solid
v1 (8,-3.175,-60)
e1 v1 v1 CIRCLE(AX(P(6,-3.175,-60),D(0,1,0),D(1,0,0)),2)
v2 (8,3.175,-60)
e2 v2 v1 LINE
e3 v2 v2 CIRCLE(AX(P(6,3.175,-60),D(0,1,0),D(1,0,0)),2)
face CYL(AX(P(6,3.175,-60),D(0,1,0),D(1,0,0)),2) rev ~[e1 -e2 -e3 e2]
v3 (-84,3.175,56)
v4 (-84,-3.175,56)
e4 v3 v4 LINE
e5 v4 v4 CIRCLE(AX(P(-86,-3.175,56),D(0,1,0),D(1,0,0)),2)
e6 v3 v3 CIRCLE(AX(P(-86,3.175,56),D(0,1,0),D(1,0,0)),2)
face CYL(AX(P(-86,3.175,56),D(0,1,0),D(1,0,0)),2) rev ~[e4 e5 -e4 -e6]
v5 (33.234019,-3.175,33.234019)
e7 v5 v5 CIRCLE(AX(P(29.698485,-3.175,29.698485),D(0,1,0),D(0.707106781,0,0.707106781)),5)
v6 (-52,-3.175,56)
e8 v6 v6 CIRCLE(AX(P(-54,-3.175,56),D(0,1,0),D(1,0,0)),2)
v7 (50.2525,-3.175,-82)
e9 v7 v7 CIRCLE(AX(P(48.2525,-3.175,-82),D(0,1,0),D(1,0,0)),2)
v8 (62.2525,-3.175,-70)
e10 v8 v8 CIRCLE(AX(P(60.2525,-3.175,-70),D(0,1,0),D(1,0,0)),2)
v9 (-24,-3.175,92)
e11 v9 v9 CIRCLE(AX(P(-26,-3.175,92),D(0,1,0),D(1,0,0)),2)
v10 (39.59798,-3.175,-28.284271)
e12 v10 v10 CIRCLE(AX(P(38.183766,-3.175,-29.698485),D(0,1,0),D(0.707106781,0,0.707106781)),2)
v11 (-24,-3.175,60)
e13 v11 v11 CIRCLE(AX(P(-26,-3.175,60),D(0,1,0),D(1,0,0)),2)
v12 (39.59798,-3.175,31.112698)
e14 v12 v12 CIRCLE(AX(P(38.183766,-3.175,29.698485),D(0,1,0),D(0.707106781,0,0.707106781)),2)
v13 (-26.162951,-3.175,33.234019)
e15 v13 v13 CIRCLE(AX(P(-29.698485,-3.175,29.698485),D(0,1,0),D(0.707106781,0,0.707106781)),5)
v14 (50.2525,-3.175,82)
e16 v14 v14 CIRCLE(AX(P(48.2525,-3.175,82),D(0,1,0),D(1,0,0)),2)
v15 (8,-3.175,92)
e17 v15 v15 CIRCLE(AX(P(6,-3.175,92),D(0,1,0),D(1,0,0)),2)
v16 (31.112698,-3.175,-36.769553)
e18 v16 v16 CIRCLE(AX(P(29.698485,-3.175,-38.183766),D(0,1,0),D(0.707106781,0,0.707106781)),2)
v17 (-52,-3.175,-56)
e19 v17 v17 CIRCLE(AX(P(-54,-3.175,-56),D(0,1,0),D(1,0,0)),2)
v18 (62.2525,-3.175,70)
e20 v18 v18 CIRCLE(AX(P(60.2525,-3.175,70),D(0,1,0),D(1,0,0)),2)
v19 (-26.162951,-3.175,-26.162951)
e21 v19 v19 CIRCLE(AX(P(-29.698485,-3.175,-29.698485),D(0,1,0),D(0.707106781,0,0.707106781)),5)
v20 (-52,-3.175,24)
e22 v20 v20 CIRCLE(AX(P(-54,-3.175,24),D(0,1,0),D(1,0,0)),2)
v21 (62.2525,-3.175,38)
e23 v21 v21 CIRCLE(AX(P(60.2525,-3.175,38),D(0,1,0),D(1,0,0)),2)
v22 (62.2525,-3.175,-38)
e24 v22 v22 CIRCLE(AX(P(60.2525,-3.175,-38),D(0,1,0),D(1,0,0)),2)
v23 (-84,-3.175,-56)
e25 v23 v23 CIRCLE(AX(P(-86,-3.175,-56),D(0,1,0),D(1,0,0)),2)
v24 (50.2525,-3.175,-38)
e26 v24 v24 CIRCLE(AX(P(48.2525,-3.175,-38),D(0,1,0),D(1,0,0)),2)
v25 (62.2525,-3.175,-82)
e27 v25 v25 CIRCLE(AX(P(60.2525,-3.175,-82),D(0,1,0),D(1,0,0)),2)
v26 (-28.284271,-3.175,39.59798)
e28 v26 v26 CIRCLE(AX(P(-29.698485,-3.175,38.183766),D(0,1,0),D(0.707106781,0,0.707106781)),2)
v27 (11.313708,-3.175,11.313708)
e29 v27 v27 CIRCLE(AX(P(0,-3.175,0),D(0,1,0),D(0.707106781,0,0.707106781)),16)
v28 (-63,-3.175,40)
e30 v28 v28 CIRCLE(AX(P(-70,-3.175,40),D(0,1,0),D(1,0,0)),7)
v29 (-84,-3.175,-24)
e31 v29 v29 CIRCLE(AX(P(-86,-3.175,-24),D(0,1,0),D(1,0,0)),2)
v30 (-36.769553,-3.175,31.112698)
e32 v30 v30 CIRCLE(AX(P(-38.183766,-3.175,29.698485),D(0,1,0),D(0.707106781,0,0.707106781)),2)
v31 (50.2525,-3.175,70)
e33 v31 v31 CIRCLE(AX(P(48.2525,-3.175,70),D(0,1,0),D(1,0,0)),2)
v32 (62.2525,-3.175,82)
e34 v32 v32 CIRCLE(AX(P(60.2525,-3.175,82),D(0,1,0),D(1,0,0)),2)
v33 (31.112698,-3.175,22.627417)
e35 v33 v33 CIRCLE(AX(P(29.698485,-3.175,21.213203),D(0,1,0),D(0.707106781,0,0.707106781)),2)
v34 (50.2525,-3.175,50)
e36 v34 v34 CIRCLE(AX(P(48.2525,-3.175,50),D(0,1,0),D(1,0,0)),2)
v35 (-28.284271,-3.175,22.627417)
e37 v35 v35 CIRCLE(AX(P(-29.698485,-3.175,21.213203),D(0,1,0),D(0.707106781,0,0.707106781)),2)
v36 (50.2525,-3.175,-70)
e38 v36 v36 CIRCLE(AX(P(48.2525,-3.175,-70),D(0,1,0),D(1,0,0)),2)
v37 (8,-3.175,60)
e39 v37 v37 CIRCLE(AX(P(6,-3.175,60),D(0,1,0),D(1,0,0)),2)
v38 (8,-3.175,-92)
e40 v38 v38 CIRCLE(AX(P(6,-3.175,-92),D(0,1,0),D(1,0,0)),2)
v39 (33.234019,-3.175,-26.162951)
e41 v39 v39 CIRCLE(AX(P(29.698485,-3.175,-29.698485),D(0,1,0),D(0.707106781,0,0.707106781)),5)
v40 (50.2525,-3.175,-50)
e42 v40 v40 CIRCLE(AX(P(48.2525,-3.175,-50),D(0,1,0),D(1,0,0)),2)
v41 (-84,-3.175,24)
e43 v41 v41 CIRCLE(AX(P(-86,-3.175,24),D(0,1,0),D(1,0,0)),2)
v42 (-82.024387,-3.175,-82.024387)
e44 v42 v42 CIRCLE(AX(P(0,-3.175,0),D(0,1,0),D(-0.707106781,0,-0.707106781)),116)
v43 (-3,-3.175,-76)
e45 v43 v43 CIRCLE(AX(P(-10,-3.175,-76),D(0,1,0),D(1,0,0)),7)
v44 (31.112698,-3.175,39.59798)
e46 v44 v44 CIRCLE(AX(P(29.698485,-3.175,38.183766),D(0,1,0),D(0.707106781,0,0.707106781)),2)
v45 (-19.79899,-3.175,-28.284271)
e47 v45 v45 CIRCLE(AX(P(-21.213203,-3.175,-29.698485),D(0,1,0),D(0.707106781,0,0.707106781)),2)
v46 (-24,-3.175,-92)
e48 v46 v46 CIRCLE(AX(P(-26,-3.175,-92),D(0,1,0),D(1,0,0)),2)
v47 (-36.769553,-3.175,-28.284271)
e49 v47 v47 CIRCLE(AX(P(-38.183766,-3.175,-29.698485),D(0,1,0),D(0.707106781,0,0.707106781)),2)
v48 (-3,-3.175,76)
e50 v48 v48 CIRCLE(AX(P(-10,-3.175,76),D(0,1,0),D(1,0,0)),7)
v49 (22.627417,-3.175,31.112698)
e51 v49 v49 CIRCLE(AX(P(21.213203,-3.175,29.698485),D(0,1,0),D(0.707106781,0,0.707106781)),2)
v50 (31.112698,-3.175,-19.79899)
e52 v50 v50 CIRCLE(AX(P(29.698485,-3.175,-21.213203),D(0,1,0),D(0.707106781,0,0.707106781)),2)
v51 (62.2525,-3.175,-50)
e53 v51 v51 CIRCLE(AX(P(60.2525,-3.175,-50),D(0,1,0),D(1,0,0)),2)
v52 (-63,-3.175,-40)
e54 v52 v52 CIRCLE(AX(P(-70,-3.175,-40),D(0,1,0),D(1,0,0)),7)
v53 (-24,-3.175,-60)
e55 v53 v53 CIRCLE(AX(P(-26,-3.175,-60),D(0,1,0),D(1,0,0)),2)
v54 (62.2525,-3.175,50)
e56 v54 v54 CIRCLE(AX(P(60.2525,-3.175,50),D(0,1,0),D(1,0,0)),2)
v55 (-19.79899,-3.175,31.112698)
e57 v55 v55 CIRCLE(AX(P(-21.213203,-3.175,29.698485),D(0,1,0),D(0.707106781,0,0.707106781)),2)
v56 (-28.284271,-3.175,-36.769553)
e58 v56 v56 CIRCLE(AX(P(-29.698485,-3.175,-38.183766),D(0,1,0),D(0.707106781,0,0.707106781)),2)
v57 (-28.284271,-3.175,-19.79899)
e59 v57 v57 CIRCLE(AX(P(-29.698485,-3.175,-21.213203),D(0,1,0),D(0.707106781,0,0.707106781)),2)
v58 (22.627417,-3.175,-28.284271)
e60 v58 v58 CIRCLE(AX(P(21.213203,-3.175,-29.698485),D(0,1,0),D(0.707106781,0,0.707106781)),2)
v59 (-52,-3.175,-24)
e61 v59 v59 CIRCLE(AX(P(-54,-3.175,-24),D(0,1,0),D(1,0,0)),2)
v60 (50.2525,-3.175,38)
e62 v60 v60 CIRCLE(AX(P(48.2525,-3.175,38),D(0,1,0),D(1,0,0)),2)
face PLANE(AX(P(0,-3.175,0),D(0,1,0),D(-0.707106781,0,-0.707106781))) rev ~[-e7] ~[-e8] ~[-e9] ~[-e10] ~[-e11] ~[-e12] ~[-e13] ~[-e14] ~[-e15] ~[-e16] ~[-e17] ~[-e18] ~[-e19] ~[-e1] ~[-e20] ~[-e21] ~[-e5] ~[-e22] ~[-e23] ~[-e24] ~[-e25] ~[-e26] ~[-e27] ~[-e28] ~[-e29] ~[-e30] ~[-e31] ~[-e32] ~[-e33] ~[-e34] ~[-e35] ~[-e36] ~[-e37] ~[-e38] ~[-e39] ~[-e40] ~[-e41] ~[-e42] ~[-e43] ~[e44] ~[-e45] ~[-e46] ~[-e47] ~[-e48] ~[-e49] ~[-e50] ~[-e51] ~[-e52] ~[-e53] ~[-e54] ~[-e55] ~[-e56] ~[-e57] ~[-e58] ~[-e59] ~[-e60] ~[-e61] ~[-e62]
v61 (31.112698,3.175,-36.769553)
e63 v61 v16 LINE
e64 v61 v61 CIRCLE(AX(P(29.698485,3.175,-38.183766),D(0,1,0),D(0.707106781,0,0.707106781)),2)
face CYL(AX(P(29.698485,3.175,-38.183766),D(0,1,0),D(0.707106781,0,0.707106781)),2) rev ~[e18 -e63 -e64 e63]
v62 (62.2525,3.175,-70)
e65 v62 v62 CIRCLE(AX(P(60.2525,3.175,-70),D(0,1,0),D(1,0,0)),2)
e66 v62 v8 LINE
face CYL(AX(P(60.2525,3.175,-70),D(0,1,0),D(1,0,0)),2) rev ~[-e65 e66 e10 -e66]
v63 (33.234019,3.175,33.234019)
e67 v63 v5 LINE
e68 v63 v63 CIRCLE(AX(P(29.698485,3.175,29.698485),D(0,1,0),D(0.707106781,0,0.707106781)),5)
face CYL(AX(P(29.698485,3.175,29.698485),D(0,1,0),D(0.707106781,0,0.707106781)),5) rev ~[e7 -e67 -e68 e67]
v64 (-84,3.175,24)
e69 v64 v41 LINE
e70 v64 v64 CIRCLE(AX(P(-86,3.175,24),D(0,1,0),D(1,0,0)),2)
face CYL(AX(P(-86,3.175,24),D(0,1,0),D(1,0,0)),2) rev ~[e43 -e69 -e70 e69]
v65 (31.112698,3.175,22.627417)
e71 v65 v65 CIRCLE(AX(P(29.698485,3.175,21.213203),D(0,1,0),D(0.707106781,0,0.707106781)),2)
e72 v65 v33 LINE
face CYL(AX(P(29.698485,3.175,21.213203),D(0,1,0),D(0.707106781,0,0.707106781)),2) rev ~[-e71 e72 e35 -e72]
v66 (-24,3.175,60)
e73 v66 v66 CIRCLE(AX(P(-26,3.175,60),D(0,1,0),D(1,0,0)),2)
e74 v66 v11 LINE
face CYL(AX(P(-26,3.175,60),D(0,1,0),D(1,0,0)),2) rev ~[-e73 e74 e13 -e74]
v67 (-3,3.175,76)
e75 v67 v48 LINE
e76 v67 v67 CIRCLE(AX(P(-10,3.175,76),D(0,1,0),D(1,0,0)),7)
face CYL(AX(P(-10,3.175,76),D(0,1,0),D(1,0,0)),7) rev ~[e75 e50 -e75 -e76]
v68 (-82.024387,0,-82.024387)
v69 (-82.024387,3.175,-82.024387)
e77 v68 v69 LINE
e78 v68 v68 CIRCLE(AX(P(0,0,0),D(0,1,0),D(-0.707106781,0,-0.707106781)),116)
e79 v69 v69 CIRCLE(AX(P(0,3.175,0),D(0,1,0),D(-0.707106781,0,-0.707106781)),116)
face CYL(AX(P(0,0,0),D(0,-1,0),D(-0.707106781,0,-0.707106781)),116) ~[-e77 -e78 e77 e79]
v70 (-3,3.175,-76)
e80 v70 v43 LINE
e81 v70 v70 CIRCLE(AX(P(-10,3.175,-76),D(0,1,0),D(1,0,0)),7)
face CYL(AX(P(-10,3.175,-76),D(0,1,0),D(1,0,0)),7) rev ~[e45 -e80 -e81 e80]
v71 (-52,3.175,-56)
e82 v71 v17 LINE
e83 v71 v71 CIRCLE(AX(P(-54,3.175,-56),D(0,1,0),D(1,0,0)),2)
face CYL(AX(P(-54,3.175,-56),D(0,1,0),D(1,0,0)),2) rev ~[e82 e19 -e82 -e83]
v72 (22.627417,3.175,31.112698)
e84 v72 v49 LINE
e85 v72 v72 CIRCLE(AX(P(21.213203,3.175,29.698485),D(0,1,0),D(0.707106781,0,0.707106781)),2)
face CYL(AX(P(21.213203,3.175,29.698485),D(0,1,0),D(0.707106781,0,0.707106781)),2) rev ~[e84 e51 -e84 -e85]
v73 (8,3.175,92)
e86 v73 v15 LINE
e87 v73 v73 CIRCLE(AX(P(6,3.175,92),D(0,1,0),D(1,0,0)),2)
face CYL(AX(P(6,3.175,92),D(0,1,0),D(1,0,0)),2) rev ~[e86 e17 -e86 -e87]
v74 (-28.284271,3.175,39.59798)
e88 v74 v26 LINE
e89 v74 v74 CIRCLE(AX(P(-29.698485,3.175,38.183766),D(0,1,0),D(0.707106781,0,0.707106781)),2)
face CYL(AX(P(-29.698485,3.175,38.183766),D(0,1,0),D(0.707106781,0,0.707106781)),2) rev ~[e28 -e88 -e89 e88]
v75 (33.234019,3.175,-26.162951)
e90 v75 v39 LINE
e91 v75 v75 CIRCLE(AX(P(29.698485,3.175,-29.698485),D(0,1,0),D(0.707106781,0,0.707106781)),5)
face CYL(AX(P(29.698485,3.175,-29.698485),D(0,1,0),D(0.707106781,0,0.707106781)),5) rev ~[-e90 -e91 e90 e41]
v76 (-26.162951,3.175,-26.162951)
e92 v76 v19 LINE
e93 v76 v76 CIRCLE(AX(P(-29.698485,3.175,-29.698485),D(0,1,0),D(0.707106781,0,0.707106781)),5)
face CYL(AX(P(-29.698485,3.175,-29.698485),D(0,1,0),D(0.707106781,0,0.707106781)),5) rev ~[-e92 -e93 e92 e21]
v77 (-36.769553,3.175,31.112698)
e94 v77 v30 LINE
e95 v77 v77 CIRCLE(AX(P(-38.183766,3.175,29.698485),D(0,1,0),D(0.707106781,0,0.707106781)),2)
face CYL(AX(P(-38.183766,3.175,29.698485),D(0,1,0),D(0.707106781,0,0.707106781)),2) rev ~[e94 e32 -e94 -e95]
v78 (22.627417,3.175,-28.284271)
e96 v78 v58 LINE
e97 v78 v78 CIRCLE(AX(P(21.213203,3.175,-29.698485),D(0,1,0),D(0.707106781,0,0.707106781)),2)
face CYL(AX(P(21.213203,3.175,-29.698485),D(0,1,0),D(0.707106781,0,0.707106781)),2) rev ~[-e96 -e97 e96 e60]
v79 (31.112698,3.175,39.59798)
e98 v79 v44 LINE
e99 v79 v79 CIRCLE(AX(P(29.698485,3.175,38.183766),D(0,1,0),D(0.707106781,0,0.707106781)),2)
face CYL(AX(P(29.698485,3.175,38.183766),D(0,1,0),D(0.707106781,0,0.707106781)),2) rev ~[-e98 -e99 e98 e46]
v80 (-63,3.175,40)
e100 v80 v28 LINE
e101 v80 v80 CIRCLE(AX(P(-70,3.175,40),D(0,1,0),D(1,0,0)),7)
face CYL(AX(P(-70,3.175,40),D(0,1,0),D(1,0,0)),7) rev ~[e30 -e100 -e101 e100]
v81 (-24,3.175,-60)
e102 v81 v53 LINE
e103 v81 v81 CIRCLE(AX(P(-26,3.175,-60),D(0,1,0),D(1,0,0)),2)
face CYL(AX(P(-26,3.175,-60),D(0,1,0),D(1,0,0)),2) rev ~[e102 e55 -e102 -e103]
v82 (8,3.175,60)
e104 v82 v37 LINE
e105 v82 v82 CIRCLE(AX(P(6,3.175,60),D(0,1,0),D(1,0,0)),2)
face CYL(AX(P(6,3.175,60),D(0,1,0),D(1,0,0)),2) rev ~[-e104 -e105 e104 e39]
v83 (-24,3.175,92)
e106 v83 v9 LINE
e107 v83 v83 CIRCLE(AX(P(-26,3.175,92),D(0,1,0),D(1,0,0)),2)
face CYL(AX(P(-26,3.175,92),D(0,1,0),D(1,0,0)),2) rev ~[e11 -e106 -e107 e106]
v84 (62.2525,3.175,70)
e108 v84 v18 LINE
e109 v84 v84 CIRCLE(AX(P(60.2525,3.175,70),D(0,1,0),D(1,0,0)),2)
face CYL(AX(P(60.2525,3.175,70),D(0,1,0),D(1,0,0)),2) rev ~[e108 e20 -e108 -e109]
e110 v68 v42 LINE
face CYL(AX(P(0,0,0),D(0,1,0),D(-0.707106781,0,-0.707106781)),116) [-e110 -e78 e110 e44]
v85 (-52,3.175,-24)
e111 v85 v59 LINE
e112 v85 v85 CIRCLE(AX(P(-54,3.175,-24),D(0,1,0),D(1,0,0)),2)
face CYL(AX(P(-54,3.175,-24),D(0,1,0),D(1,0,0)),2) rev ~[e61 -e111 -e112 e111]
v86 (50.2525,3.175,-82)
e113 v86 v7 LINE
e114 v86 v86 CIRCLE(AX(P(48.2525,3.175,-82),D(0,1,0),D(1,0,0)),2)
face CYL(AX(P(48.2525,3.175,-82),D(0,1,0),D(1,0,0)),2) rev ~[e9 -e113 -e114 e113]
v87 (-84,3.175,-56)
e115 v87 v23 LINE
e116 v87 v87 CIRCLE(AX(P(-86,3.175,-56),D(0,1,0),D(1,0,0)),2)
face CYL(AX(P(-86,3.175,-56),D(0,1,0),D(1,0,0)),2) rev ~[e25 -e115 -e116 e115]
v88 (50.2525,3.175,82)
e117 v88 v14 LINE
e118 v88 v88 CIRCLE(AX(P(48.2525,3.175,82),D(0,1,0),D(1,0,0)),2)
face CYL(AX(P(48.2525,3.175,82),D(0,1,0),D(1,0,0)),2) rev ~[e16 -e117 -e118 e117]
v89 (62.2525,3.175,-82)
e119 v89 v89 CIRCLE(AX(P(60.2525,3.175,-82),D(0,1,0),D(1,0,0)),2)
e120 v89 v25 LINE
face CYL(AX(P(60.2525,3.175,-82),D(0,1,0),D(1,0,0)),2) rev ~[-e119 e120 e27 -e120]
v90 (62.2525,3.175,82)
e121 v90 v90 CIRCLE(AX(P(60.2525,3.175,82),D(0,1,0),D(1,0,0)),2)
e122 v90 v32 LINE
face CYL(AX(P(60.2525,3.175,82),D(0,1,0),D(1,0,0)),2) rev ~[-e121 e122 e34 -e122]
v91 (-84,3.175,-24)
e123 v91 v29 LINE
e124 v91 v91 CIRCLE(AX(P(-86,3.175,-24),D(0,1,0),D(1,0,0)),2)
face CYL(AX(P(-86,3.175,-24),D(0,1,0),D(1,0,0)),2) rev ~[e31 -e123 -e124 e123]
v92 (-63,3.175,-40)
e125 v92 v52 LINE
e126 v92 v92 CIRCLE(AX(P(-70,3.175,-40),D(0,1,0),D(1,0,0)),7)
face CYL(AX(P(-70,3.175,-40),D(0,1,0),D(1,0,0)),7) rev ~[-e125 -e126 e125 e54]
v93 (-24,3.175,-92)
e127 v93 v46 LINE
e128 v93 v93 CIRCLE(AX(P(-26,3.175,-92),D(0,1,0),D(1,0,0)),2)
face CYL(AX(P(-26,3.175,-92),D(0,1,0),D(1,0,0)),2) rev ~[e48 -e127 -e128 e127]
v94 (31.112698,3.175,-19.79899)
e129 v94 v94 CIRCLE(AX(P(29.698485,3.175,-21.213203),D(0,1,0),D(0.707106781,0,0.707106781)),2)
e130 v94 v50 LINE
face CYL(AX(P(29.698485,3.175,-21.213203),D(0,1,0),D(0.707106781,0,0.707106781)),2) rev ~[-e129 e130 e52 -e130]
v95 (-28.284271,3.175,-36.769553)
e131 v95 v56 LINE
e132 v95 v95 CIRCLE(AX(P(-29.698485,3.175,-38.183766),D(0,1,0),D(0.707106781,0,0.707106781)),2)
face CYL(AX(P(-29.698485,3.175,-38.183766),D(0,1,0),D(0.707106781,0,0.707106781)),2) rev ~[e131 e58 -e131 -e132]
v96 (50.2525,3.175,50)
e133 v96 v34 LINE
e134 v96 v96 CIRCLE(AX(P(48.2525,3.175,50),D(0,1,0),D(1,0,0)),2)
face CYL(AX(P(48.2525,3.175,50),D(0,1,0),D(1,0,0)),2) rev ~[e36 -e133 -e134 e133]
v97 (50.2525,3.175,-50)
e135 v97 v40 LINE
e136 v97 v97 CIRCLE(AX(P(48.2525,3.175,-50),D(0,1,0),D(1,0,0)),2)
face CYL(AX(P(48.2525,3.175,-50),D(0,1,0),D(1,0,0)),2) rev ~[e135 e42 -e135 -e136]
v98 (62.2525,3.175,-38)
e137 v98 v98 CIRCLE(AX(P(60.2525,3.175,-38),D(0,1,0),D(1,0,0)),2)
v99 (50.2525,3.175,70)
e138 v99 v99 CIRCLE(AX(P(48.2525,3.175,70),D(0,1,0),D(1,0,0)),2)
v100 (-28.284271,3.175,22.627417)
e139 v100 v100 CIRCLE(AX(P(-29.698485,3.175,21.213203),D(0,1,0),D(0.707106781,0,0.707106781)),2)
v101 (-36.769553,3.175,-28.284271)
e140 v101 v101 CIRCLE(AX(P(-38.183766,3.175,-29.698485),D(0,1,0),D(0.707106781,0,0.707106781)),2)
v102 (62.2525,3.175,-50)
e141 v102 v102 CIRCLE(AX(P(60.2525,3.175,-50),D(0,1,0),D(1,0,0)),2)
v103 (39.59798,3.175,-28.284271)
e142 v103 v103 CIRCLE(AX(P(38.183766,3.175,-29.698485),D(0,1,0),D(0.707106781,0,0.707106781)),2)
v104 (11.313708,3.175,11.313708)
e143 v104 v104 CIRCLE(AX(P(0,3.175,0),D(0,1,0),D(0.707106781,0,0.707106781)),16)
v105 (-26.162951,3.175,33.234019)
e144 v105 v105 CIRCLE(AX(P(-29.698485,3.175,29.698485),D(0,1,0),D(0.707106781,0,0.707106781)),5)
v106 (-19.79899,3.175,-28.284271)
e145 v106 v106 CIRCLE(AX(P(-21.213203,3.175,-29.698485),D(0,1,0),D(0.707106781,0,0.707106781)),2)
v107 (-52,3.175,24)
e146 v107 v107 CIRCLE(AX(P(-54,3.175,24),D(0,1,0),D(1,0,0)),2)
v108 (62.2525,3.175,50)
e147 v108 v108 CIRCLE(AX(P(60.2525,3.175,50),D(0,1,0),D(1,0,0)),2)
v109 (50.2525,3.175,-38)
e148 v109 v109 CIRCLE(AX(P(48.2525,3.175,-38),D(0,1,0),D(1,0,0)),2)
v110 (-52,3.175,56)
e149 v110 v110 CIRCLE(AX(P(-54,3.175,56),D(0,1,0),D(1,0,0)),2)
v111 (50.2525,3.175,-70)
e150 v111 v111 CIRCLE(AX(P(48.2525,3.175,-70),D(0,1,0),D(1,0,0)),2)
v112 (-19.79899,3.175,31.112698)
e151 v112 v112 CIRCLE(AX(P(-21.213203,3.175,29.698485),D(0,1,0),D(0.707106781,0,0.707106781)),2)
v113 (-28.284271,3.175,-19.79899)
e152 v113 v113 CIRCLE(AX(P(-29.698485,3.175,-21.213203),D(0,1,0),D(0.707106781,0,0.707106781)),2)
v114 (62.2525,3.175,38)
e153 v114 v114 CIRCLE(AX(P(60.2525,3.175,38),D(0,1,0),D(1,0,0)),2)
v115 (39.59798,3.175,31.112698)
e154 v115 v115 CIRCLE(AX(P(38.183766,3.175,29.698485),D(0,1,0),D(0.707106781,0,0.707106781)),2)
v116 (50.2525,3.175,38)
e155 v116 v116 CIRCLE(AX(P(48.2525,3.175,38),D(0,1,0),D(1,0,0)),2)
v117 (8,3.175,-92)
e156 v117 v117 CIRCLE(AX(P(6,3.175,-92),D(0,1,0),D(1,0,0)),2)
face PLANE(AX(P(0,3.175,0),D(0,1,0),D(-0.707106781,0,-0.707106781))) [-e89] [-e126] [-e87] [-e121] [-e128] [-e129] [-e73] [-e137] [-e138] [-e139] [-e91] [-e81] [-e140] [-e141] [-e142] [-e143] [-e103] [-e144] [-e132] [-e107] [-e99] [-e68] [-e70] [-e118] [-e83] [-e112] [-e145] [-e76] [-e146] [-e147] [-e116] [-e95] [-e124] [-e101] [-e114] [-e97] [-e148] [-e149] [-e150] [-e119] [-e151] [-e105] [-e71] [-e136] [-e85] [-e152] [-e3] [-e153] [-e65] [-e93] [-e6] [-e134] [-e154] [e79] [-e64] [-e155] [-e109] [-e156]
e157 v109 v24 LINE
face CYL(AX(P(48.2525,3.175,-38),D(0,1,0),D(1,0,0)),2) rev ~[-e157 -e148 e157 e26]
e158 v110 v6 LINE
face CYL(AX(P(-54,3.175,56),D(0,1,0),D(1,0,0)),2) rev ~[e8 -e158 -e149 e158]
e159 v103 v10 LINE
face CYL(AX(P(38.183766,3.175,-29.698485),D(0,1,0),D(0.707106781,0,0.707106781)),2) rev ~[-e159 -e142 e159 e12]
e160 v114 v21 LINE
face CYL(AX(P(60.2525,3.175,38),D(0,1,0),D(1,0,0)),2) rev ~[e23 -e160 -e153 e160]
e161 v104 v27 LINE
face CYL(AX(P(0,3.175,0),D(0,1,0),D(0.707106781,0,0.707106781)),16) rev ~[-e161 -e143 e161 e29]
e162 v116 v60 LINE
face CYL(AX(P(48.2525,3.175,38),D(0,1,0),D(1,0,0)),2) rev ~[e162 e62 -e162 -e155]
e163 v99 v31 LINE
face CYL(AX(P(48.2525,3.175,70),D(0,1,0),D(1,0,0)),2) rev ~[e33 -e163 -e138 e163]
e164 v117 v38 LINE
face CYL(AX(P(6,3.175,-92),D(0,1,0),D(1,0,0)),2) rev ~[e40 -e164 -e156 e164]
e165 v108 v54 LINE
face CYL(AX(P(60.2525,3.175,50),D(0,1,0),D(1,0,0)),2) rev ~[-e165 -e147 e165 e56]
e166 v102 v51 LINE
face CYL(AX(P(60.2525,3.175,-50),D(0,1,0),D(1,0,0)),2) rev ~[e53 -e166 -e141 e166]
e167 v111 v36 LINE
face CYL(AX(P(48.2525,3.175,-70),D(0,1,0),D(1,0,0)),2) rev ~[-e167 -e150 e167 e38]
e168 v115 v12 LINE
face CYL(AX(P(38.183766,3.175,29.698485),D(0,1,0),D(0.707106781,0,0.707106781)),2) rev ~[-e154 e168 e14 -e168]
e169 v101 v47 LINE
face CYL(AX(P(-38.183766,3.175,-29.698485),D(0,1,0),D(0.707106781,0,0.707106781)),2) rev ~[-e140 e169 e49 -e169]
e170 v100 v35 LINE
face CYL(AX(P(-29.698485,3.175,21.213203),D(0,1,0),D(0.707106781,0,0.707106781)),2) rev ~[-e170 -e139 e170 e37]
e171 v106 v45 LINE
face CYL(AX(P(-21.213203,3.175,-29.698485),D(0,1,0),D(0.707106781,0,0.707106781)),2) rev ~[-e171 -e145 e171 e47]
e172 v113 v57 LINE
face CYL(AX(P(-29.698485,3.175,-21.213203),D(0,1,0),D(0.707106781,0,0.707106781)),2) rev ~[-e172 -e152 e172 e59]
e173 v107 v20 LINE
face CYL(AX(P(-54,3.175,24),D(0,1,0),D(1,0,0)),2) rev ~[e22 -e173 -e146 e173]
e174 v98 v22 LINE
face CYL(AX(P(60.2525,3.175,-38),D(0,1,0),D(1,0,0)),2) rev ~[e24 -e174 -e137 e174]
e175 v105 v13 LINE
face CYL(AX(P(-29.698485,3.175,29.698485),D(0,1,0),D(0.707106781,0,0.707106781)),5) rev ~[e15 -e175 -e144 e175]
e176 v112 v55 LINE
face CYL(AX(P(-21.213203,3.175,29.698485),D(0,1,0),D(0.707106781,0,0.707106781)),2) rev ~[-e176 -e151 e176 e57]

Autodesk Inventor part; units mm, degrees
ref_plane "YZ Plane" through (0, 0, 0) normal (1, 0, 0) x (0, 1, 0)
ref_plane "XZ Plane" through (0, 0, 0) normal (0, 1, 0) x (-1, 0, 0)
ref_plane "XY Plane" through (0, 0, 0) normal (0, 0, 1) x (1, 0, 0)
sketch "Sketch1" plane through (0, 0, 0) normal (0, 1, 0) x (-1, 0, 0)
  circle A0 centre (0, 0) radius 116
  dimension "d0" = 232
extrude "Extrusion1" add sketch "Sketch1" along normal mid plane 6.35
sketch "Sketch2" plane through (0, 3.175, 0) normal (0, 1, 0) x (1, 0, 0)
  circle A0 centre (-42, 0) radius 5
  circle A1 centre (-36, 6) radius 2
  circle A2 centre (-48, 6) radius 2
  circle A3 centre (-48, -6) radius 2
  circle A4 centre (-36, -6) radius 2
  circle A5 centre (0, -42) radius 5
  circle A6 centre (-6, -36) radius 2
  circle A7 centre (-6, -48) radius 2
  circle A8 centre (6, -48) radius 2
  circle A9 centre (6, -36) radius 2
  circle A10 centre (42, 0) radius 5
  circle A11 centre (36, -6) radius 2
  circle A12 centre (48, -6) radius 2
  circle A13 centre (48, 6) radius 2
  circle A14 centre (36, 6) radius 2
  circle A15 centre (0, 42) radius 5
  circle A16 centre (6, 36) radius 2
  circle A17 centre (6, 48) radius 2
  circle A18 centre (-6, 48) radius 2
  circle A19 centre (-6, 36) radius 2
  point P0 (0, 0)
  dimension "d3" = 10
  dimension "d4" = 42
  dimension "d5" = 4
  dimension "d6" = 6
  dimension "d7" = 6
  dimension "d10" = 360
  dimension "d14" = 360
extrude "Extrusion2" cut sketch "Sketch2" against normal through all
sketch "Sketch3" plane through (0, 3.175, 0) normal (0, 1, 0) x (1, 0, 0)
  circle A0 centre (0, 0) radius 16
  dimension "d18" = 32
extrude "Extrusion3" cut sketch "Sketch3" against normal through all
move or copy body "Move Body1" bodies to move or copy 1 copy no rotation origin (0, 0, 0) rotation axis (0, 1, 0) rotation angle -45
sketch "Sketch4" plane through (0, 3.175, 0) normal (0, 1, 0) x (1, 0, 0)
  circle A0 centre (0, 0) radius 16 construction
  line L0 (-16, 0) -> (16, 0) construction
  line L1 (0, 16) -> (0, -16) construction
  circle A1 centre (54.2525, -76) radius 2.5 construction
  circle A2 centre (48.2525, -82) radius 2
  circle A3 centre (60.2525, -82) radius 2
  circle A4 centre (60.2525, -70) radius 2
  circle A5 centre (48.2525, -70) radius 2
  line L2 (54.2525, -76) -> (54.2525, -44) construction
  circle A6 centre (54.2525, -44) radius 2.5 construction
  circle A7 centre (48.2525, -50) radius 2
  circle A8 centre (60.2525, -50) radius 2
  circle A9 centre (60.2525, -38) radius 2
  circle A10 centre (48.2525, -38) radius 2
  circle A11 centre (54.2525, 76) radius 2.5 construction
  circle A12 centre (48.2525, 82) radius 2
  circle A13 centre (60.2525, 82) radius 2
  circle A14 centre (60.2525, 70) radius 2
  circle A15 centre (48.2525, 70) radius 2
  line L3 (54.2525, 76) -> (54.2525, 44) construction
  circle A16 centre (54.2525, 44) radius 2.5 construction
  circle A17 centre (48.2525, 50) radius 2
  circle A18 centre (60.2525, 50) radius 2
  circle A19 centre (60.2525, 38) radius 2
  circle A20 centre (48.2525, 38) radius 2
  dimension "d35" = 5
  dimension "d37" = 4
  dimension "d38" = 6
  dimension "d39" = 6
  dimension "d42" = 360
  dimension "d44" = 32
  dimension "d45" = 5
  dimension "d46" = 4
  dimension "d47" = 6
  dimension "d48" = 6
  dimension "d51" = 360
  dimension "d78" = 76
extrude "Extrusion4" cut sketch "Sketch4" against normal through all
sketch "Sketch5" plane through (0, 3.175, 0) normal (0, 1, 0) x (1, 0, 0)
  circle A0 centre (-10, 76) radius 7
  circle A1 centre (-26, 92) radius 2
  circle A2 centre (-26, 60) radius 2
  circle A3 centre (6, 60) radius 2
  circle A4 centre (6, 92) radius 2
  circle A5 centre (0, 0) radius 16 construction
  line L0 (-16, 0) -> (16, 0) construction
  circle A6 centre (-10, -76) radius 7
  circle A7 centre (-26, -92) radius 2
  circle A8 centre (-26, -60) radius 2
  circle A9 centre (6, -60) radius 2
  circle A10 centre (6, -92) radius 2
  line L1 (0, 16) -> (0, -16) construction
  circle A11 centre (-70, 40) radius 7
  circle A12 centre (-54, 56) radius 2
  circle A13 centre (-86, 56) radius 2
  circle A14 centre (-86, 24) radius 2
  circle A15 centre (-54, 24) radius 2
  circle A16 centre (-70, -40) radius 7
  circle A17 centre (-54, -56) radius 2
  circle A18 centre (-86, -56) radius 2
  circle A19 centre (-86, -24) radius 2
  circle A20 centre (-54, -24) radius 2
  dimension "d55" = 14
  dimension "d56" = 10
  dimension "d57" = 76
  dimension "d58" = 4
  dimension "d59" = 16
  dimension "d60" = 16
  dimension "d63" = 360
  dimension "d67" = 14
  dimension "d68" = 4
  dimension "d69" = 16
  dimension "d70" = 16
  dimension "d71" = 40
  dimension "d75" = 360
  dimension "d79" = 70
extrude "Extrusion5" cut sketch "Sketch5" against normal through all
properties part number "TurnTableTop"
